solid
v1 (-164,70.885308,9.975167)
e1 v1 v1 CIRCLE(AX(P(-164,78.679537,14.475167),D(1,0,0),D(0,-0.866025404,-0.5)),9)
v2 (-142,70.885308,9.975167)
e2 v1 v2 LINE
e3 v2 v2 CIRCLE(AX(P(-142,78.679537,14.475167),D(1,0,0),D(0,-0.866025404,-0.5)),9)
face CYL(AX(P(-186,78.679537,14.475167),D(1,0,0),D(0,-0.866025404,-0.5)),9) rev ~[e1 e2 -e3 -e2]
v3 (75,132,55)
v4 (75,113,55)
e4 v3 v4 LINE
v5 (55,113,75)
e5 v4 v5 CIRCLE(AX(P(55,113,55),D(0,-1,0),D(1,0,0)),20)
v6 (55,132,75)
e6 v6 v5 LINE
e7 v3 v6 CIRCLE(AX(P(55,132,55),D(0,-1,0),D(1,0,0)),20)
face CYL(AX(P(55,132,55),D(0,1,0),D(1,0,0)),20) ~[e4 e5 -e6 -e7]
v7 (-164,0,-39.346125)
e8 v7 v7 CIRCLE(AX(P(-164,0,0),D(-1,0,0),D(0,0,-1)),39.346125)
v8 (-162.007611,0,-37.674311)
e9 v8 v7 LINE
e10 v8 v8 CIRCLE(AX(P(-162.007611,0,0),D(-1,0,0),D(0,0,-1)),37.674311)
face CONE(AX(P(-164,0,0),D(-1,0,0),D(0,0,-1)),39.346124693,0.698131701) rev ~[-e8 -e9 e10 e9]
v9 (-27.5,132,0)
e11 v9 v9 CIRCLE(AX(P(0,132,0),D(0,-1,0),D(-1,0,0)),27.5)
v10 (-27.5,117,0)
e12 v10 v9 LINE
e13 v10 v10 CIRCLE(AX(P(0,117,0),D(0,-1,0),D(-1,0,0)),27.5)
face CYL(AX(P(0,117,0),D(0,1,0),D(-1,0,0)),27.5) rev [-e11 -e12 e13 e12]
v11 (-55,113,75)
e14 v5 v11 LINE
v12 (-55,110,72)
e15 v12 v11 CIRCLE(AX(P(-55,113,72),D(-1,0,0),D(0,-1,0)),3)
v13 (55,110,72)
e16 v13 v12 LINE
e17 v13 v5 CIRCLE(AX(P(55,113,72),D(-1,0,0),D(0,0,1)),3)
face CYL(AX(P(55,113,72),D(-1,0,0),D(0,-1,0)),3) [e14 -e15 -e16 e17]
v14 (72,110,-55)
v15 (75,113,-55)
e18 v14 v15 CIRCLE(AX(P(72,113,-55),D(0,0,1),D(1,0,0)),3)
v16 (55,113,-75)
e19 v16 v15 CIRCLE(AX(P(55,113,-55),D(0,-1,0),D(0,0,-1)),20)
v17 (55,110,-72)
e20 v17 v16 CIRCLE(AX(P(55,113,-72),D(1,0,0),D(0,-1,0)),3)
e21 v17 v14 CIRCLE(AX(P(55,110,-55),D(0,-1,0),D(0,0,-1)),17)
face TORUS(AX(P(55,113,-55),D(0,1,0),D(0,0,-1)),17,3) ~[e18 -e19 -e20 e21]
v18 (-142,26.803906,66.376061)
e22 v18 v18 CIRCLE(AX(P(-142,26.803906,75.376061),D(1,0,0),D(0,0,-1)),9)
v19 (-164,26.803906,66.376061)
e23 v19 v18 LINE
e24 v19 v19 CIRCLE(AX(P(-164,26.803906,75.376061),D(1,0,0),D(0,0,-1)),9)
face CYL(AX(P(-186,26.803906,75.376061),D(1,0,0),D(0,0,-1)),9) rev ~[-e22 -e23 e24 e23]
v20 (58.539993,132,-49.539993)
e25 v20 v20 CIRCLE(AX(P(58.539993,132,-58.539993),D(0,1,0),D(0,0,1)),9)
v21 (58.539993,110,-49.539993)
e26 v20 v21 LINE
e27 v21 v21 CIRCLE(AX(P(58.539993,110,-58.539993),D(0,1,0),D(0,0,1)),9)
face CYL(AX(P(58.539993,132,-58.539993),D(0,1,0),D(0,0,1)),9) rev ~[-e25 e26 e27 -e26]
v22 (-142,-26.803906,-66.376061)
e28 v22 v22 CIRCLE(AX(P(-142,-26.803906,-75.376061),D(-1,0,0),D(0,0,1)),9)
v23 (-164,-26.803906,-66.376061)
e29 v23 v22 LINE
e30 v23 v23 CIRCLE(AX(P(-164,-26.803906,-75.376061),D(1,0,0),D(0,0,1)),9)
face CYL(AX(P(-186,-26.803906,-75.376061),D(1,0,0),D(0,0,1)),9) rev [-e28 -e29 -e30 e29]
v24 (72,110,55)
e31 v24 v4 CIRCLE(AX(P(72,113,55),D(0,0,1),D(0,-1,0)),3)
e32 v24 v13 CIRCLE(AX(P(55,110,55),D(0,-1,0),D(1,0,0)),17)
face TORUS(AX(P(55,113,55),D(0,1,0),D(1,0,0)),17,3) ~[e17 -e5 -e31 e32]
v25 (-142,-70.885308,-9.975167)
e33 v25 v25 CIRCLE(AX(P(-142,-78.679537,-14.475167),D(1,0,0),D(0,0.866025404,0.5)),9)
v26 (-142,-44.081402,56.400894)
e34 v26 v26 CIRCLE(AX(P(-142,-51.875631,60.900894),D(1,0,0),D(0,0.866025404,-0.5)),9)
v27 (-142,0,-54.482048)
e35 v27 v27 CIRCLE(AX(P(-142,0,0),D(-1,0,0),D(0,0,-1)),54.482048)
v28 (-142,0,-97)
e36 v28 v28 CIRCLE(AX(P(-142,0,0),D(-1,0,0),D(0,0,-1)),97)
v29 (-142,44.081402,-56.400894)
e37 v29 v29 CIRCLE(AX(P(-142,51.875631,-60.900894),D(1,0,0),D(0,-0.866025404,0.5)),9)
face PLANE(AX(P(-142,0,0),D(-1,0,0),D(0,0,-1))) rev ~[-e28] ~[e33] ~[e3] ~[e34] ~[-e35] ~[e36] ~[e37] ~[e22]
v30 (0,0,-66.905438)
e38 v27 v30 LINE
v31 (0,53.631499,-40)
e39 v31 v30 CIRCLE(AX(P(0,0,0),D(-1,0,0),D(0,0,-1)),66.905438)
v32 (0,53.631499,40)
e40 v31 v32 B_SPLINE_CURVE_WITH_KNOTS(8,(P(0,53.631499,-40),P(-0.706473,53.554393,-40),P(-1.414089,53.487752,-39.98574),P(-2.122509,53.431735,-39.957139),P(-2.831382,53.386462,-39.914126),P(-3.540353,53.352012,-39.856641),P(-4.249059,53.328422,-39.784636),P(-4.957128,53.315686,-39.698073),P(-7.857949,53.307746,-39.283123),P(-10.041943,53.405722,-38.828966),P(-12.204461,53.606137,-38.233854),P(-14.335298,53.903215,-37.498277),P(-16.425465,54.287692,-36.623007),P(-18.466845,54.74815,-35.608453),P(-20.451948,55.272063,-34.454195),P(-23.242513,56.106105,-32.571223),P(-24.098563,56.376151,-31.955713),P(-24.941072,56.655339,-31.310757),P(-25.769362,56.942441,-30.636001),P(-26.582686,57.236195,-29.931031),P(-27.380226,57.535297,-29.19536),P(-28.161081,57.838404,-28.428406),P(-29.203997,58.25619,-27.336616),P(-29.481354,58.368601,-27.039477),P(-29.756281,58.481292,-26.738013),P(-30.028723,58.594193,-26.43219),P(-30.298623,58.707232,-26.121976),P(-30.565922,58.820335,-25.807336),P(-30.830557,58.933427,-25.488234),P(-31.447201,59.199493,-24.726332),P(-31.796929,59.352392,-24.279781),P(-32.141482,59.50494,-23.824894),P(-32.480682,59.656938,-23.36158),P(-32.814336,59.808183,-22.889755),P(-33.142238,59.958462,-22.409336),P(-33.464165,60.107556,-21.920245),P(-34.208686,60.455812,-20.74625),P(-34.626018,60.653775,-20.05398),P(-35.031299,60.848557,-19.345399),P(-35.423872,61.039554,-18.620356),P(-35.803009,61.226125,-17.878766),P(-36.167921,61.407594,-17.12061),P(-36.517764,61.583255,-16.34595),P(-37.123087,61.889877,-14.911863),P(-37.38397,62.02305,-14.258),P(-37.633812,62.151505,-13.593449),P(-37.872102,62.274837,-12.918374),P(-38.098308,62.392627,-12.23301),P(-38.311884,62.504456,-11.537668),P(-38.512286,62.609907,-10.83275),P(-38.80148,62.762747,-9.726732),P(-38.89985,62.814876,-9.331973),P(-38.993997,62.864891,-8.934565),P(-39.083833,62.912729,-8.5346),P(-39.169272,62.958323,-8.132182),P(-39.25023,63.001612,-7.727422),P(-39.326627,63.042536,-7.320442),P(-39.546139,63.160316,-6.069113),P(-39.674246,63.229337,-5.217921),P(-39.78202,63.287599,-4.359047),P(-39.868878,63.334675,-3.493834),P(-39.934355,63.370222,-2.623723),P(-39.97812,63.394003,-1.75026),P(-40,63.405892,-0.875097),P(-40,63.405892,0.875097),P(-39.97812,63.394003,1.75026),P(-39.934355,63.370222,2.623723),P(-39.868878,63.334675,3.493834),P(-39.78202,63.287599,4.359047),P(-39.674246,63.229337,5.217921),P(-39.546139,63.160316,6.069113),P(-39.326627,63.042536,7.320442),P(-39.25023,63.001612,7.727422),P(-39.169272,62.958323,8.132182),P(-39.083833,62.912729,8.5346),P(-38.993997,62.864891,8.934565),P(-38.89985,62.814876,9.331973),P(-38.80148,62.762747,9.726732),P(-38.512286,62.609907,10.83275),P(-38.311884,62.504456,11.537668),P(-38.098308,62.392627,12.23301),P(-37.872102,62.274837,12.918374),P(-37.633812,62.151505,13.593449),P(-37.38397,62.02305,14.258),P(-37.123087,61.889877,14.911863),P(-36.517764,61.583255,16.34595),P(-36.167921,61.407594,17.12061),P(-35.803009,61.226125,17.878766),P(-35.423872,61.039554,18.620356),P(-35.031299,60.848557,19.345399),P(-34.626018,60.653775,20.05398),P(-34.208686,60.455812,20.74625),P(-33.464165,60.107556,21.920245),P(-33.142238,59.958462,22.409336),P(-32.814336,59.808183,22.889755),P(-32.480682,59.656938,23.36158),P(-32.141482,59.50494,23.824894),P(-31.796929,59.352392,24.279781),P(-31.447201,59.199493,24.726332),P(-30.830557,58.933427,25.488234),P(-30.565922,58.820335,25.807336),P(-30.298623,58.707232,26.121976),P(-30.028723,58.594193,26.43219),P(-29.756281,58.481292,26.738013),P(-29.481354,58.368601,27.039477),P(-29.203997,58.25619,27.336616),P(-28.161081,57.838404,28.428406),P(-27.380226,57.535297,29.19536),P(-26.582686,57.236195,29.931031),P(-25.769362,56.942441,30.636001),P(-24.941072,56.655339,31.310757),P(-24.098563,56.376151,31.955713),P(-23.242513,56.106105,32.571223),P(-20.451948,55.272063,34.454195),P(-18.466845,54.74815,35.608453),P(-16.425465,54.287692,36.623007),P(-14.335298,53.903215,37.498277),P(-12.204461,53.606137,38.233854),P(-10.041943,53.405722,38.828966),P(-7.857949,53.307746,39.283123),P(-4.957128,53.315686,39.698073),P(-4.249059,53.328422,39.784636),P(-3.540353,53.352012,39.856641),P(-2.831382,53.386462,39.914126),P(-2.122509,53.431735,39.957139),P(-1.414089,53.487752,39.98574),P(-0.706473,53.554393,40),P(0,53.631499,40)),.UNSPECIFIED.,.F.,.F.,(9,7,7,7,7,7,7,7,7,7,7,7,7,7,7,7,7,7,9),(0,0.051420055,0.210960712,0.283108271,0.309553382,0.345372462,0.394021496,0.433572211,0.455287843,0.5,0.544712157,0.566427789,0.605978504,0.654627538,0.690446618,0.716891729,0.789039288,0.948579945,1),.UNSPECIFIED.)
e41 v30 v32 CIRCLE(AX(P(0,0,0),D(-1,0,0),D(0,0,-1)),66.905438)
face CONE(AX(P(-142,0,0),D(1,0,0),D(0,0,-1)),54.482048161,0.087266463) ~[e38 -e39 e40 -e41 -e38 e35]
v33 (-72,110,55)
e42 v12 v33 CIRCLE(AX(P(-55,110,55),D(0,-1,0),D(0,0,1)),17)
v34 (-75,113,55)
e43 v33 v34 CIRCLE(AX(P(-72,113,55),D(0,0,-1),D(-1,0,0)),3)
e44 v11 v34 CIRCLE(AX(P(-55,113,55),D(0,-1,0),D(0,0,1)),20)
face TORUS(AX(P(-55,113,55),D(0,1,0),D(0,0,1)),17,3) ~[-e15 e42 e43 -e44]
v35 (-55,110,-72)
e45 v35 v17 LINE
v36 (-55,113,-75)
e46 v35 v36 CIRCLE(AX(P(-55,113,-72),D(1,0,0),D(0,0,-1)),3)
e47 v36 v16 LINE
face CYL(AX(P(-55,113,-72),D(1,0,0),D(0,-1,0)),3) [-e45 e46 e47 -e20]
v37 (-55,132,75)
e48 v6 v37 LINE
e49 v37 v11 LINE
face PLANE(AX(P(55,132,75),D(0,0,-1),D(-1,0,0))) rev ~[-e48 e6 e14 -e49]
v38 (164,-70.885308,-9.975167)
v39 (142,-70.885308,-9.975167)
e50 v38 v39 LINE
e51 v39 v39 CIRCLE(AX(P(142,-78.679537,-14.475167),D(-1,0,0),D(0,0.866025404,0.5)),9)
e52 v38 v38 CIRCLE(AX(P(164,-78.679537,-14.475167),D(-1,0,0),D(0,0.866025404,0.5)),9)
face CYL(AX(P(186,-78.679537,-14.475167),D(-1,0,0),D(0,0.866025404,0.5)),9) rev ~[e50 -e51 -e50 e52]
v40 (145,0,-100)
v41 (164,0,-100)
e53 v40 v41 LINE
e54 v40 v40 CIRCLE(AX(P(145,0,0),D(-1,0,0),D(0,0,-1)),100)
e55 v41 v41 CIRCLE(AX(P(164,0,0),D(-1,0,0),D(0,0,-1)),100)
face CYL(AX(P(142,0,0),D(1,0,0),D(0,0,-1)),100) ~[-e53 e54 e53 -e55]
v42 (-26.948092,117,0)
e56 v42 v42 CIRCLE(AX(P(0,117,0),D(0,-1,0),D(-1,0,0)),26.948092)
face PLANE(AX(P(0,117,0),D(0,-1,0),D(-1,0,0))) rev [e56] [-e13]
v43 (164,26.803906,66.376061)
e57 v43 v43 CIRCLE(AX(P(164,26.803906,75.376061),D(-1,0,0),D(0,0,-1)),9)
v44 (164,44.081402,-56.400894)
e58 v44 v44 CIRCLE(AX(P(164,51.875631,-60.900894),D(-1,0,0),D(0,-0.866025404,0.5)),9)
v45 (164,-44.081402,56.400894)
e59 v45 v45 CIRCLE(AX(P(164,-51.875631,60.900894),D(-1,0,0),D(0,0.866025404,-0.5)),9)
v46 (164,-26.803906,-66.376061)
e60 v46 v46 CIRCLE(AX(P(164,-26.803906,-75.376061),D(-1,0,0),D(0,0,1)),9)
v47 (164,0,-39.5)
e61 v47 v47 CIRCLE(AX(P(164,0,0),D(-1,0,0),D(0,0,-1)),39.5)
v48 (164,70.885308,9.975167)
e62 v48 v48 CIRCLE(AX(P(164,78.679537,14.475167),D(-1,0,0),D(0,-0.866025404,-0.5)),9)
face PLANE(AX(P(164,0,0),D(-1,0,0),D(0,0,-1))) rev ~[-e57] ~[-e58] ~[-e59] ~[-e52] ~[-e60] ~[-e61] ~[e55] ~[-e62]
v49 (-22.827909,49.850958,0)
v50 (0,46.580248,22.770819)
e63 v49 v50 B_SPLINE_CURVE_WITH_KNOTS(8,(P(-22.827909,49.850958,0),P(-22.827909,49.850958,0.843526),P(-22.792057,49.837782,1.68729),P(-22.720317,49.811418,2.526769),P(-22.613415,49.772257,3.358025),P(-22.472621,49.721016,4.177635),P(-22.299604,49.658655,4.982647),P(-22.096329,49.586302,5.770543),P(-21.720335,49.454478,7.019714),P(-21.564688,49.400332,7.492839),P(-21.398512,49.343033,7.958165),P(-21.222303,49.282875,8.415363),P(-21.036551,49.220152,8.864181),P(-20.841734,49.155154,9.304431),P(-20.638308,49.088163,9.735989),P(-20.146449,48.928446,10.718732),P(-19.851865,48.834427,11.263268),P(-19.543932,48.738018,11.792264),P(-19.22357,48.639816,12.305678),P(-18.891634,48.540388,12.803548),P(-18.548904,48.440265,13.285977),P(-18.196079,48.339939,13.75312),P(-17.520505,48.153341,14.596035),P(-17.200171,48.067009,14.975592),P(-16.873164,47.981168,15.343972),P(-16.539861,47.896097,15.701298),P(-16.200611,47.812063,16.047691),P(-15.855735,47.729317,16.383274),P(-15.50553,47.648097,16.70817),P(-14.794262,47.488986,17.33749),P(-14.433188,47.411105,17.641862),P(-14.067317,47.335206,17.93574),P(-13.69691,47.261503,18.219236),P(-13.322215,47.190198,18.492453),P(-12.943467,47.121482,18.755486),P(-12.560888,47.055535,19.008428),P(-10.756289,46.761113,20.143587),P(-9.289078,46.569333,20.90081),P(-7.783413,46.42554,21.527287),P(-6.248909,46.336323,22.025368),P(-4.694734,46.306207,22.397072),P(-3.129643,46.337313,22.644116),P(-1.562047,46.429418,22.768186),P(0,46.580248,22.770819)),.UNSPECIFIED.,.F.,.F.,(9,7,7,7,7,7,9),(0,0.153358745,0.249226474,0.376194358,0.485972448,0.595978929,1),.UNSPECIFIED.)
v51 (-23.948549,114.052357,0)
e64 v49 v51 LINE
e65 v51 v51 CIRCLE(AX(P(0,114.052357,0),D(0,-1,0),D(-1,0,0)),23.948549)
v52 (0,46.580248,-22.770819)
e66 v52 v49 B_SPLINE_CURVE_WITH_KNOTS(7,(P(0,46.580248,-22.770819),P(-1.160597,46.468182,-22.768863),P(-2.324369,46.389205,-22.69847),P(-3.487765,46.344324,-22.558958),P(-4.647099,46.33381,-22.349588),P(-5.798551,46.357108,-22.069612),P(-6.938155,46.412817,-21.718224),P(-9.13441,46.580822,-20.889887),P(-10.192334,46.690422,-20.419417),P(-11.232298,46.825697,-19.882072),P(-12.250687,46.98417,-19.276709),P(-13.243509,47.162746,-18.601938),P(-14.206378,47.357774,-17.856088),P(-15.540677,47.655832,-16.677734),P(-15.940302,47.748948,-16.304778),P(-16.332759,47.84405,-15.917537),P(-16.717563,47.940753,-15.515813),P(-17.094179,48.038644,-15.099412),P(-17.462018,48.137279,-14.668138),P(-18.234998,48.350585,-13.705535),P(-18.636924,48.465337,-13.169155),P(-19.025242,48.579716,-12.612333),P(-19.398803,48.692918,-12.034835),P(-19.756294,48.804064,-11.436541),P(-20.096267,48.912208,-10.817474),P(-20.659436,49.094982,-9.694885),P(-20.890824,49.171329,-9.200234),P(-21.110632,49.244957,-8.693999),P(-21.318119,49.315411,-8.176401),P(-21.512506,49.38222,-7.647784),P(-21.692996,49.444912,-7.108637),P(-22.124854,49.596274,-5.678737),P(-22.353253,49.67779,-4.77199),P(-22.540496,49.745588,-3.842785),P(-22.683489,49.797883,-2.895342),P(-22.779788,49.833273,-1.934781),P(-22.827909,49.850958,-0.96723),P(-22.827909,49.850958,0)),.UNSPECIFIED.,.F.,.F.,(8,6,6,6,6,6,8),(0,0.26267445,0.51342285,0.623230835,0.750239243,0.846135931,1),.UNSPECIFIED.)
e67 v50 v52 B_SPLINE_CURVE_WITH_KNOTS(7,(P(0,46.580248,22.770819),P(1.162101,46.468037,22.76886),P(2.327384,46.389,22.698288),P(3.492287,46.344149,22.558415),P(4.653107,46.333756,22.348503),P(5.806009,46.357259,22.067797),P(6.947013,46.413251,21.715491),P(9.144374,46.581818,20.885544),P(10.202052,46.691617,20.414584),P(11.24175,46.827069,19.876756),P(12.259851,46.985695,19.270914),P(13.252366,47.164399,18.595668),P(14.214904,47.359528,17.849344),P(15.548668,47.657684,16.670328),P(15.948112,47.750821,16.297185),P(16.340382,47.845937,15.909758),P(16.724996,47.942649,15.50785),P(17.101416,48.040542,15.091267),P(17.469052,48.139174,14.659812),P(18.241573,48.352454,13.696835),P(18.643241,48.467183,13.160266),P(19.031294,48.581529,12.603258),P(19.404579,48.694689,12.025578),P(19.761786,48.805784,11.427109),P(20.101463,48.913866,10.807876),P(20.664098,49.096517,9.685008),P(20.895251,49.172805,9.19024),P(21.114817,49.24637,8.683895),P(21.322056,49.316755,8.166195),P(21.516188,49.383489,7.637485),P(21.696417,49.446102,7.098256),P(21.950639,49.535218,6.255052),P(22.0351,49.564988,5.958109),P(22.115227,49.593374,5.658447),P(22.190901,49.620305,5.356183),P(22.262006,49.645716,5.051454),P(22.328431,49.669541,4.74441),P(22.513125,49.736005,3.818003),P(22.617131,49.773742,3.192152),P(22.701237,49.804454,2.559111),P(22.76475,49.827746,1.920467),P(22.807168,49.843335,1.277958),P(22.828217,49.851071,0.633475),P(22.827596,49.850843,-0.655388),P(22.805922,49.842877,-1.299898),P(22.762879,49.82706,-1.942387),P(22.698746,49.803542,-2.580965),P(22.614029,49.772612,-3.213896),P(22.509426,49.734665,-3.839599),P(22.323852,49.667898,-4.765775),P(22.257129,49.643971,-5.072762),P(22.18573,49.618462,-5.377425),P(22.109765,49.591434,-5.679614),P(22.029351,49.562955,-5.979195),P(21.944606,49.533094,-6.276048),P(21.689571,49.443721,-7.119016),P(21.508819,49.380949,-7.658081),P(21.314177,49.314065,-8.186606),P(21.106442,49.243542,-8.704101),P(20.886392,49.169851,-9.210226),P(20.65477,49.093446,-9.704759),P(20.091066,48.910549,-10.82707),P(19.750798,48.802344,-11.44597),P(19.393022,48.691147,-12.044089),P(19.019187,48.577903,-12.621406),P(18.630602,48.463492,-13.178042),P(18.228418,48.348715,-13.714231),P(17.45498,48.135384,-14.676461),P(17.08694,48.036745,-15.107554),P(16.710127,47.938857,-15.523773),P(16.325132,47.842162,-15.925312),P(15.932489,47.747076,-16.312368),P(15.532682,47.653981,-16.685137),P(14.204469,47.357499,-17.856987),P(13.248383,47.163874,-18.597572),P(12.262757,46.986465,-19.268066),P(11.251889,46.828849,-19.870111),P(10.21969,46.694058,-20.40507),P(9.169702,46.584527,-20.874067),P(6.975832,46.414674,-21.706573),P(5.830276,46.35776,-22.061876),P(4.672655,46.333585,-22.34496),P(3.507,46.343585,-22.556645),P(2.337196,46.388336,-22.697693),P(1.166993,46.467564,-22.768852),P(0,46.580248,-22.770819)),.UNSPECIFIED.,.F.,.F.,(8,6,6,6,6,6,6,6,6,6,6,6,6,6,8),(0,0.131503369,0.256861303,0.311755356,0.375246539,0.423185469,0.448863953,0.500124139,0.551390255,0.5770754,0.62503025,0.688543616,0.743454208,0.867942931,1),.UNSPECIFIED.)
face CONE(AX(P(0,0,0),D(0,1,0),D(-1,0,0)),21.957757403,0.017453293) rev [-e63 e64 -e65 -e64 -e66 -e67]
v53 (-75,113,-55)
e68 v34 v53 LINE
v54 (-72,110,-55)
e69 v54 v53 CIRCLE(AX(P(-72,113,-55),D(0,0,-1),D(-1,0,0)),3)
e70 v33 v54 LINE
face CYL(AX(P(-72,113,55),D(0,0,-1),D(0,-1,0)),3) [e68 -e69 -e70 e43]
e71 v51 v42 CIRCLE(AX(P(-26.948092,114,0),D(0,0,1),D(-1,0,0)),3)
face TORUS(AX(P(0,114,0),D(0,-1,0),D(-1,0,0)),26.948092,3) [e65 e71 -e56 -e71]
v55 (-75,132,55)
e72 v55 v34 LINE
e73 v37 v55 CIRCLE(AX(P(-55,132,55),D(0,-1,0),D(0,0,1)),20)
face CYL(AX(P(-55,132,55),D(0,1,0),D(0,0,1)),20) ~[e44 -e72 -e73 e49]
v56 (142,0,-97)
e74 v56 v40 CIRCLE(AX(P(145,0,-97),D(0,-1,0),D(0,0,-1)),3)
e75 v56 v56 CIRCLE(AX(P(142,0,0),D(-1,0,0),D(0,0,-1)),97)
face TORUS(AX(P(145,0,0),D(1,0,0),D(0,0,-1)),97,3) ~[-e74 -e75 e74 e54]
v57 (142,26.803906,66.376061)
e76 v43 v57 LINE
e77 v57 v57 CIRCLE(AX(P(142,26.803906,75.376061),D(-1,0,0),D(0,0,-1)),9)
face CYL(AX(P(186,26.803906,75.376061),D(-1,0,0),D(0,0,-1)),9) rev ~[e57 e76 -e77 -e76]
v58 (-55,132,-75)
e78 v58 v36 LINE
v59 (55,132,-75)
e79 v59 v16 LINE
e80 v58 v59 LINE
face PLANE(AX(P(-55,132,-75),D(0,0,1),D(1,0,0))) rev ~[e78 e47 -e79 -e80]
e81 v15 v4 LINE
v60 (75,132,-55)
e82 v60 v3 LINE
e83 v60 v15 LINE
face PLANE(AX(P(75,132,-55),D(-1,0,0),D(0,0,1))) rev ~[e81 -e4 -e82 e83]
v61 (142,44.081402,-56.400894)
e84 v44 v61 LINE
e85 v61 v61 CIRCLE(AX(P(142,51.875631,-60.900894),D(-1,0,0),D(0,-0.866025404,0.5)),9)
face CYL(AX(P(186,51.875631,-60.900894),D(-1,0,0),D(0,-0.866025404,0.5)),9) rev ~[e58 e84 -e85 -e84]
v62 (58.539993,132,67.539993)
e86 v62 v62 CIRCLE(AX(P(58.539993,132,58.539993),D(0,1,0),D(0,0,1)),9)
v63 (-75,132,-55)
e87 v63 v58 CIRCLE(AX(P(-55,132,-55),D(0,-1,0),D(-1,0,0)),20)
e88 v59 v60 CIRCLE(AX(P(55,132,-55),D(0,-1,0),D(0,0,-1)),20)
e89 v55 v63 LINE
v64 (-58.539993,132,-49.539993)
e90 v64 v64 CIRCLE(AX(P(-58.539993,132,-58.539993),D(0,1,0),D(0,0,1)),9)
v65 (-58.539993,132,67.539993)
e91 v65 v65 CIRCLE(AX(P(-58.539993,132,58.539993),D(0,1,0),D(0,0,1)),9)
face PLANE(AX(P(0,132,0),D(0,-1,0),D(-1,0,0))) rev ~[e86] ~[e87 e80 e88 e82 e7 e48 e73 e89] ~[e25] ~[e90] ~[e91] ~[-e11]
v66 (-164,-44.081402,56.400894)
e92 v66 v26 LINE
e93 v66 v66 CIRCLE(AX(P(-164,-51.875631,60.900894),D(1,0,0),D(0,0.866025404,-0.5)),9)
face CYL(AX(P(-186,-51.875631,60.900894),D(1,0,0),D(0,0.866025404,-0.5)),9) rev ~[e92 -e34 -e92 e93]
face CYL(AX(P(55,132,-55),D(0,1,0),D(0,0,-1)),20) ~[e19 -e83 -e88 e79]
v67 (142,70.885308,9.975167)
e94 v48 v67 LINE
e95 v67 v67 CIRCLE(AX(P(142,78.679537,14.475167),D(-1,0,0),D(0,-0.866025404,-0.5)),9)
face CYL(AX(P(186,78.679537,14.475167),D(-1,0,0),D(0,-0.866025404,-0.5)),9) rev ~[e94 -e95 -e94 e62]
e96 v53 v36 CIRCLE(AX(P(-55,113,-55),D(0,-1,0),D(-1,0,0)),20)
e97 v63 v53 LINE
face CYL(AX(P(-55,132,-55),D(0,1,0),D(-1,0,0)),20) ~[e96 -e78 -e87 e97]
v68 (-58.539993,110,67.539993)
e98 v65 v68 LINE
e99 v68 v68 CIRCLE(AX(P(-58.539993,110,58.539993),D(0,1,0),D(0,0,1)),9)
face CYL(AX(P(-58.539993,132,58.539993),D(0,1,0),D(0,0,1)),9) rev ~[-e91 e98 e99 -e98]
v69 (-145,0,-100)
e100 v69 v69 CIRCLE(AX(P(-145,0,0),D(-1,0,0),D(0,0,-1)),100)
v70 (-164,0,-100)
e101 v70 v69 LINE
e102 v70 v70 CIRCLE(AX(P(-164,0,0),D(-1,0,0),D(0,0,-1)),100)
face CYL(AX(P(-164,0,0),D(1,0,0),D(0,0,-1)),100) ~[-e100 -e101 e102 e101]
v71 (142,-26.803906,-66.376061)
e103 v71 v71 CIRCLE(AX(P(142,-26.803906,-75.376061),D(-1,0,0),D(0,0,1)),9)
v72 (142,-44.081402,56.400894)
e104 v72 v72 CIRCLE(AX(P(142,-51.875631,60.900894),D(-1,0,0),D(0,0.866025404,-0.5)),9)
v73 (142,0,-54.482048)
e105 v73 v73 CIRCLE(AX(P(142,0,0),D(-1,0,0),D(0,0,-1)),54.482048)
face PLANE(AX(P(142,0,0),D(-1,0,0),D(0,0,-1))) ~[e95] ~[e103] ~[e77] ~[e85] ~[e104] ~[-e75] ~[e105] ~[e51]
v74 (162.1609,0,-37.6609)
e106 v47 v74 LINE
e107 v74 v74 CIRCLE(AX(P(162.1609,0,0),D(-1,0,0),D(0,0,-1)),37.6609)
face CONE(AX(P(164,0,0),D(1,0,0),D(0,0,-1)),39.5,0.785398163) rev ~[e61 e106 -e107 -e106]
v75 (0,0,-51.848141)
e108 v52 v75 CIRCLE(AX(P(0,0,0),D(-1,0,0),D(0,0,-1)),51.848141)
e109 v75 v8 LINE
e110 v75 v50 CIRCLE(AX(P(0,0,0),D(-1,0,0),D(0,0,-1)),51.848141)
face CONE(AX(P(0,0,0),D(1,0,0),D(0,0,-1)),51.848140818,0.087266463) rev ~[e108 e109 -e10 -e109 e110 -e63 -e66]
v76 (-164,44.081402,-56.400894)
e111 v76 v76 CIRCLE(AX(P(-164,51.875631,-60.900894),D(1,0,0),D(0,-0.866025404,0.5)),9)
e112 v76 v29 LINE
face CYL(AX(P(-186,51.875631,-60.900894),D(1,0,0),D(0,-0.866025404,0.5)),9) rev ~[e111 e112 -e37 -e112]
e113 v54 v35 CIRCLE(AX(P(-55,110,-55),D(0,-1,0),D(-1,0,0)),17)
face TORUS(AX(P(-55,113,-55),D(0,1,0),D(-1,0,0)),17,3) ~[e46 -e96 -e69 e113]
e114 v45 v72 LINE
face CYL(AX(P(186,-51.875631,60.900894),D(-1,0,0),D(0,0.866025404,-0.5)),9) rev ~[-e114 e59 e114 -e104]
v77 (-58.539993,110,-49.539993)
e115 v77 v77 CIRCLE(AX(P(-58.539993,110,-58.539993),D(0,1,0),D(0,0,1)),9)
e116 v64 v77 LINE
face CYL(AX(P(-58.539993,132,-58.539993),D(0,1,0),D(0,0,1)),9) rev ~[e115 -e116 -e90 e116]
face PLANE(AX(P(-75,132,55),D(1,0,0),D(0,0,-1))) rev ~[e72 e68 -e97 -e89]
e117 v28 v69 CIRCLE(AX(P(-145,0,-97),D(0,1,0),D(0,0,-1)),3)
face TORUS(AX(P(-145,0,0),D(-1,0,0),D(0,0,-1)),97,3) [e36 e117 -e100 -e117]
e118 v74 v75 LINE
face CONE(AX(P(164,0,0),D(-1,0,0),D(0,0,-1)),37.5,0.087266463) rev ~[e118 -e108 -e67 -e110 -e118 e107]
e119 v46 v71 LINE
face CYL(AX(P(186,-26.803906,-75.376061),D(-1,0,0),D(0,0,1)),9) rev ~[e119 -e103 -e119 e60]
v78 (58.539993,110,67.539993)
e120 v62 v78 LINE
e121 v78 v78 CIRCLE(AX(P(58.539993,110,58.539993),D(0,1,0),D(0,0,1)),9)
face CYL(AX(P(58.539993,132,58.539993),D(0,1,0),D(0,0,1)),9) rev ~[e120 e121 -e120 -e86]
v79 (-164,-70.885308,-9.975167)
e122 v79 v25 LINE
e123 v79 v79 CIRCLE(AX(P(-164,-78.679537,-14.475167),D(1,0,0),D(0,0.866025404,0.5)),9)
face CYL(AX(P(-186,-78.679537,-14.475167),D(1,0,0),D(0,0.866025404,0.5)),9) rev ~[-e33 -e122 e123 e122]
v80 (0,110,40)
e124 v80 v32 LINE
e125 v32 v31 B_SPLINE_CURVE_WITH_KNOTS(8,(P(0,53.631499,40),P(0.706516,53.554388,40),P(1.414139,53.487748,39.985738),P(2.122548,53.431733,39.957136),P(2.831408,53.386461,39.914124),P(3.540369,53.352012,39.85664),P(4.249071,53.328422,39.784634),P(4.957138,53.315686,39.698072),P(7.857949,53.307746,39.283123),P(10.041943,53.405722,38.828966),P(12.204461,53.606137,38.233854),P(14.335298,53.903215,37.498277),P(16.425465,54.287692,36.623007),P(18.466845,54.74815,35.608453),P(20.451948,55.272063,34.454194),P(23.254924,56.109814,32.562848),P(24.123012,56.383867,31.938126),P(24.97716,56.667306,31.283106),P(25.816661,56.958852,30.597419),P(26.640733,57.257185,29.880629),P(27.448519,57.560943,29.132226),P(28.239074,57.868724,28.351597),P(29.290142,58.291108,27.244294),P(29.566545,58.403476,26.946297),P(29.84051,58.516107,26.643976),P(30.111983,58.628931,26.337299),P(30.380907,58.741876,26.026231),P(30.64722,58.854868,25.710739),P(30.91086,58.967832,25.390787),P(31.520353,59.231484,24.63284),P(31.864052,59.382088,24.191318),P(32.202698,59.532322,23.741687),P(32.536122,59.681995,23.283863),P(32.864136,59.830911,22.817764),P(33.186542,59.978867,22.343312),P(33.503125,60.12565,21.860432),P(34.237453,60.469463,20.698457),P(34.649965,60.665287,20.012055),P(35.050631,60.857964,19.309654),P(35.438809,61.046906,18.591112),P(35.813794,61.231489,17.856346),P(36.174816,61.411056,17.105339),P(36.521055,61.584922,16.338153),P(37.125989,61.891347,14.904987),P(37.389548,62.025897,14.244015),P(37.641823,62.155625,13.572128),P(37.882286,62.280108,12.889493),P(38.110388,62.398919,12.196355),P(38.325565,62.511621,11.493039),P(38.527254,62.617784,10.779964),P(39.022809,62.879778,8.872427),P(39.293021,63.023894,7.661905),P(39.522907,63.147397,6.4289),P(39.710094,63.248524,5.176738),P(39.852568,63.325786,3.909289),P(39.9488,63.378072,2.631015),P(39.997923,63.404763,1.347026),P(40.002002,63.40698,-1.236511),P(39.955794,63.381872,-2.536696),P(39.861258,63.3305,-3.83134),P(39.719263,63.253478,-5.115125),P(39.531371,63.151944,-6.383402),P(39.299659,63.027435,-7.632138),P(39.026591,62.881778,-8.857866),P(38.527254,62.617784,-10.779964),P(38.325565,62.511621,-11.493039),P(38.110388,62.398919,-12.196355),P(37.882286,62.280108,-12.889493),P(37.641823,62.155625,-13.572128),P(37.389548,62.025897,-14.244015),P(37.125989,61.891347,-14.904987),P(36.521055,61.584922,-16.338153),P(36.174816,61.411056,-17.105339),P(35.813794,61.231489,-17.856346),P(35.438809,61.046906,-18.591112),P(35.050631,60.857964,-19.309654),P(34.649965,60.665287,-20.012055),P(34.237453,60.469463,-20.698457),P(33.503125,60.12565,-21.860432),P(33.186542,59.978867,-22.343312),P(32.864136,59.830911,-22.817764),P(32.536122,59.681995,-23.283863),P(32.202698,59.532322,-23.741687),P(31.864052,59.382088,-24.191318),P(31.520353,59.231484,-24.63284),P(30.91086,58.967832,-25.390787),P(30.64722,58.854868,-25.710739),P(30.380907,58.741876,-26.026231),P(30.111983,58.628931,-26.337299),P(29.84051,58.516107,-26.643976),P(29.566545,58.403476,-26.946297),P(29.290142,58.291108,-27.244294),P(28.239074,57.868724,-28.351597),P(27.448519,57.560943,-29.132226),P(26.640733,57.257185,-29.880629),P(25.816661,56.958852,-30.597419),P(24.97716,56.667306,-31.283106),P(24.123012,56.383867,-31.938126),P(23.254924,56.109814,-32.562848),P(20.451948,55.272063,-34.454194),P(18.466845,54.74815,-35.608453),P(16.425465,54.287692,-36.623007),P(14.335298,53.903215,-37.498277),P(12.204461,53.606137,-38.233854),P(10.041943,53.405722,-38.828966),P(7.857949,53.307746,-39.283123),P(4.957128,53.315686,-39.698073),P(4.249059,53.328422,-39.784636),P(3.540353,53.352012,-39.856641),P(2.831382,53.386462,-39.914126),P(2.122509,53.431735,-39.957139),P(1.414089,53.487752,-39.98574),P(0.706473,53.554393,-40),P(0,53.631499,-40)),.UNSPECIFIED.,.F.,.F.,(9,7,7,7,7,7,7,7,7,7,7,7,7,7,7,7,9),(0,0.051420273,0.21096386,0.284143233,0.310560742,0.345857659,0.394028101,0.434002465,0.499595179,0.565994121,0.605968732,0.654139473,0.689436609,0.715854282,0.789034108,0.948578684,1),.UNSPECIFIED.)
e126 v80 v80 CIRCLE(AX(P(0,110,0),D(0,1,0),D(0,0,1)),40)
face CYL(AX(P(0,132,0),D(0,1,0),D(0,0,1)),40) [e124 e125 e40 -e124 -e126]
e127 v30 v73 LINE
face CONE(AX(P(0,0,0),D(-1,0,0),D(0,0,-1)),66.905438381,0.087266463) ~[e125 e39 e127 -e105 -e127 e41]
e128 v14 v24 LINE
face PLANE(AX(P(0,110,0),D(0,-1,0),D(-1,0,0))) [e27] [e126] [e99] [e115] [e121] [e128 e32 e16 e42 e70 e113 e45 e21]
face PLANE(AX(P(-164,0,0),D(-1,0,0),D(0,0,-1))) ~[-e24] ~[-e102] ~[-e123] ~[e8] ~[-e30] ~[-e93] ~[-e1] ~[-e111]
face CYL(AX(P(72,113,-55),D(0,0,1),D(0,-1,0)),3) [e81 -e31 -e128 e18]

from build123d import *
from OCP.BRepFilletAPI import BRepFilletAPI_MakeChamfer

# Parameters (mm, degrees)
SKETCH3_R                 = 40
SKETCH3_R_2               = 9
BOSS_EXTRUDE1_DEPTH       = 22
BOSS_EXTRUDE3_REACH       = 303.198
SKETCH3_3_R               = 40
FILLET1_R                 = 3
CHAMFER1_SIZE             = 2
CHAMFER1_SIZE2            = 1.846124693
FILLET2_R                 = 3
F_5_0MM_DOWEL_HOLE1_D     = 18
F_5_0MM_DOWEL_HOLE1_DEPTH = 22
CIRPATTERN1_COUNT         = 6
MIRROR1_COPY_1_D          = 18
MIRROR1_COPY_1_DEPTH      = 22
MIRROR1_COPY_2_D          = 18
MIRROR1_COPY_2_DEPTH      = 22
MIRROR1_COPY_3_D          = 18
MIRROR1_COPY_3_DEPTH      = 22
MIRROR1_COPY_4_D          = 18
MIRROR1_COPY_4_DEPTH      = 22
MIRROR1_COPY_5_D          = 18
MIRROR1_COPY_5_DEPTH      = 22


with BuildPart() as part:
    # Sketch1 → Revolve1 (revolve)
    with BuildSketch(Plane.XY, mode=Mode.PRIVATE) as revolve1_sk:
        Polygon((0, -51.848140818), (-164, -37.5), (-164, -100), (-142, -100), (-142, -54.482048161), (0, -66.905438381), (142, -54.482048161), (142, -100), (164, -100), (164, -37.5), align=None)
    revolve(revolve1_sk.sketch.rotate(Axis((0, 0, 0), (-1, 0, 0)), 270), axis=Axis((0, 0, 0), (-1, 0, 0)))

    # Sketch3<3> → Boss-Extrude3 (add, up to next)
    with BuildSketch(Plane(origin=(0, 132, 0), x_dir=(1, 0, 0), z_dir=(0, 1, 0)), mode=Mode.PRIVATE) as boss_extrude3_sk1:
        with Locations(Location((0, 0, 0), (0, 0, 270))):
            Circle(SKETCH3_3_R)
    boss_extrude3_tool1 = extrude(boss_extrude3_sk1.sketch, amount=-BOSS_EXTRUDE3_REACH, mode=Mode.PRIVATE) - part.part


with BuildPart() as body_2:
    # Sketch3 → Boss-Extrude1 (new body)
    with BuildSketch(Plane(origin=(0, 132, 0), x_dir=(1, 0, 0), z_dir=(0, 1, 0))):
        with BuildLine():
            Line((-55, 75), (55, 75))
            ThreePointArc((55, 75), (69.142135624, 69.142135624), (75, 55))
            Line((75, 55), (75, -55))
            ThreePointArc((75, -55), (69.142135624, -69.142135624), (55, -75))
            Line((55, -75), (-55, -75))
            ThreePointArc((-55, -75), (-69.142135624, -69.142135624), (-75, -55))
            Line((-75, -55), (-75, 55))
            ThreePointArc((-75, 55), (-69.142135624, 69.142135624), (-55, 75))
        make_face()
        with Locations(Location((0, 0, 0), (0, 0, 270))):
            Circle(SKETCH3_R, mode=Mode.SUBTRACT)
        with Locations(Location((-58.539992601, -58.539992601, 0), (0, 0, 270))):
            Circle(SKETCH3_R_2, mode=Mode.SUBTRACT)
        with Locations(Location((58.539992601, -58.539992601, 0), (0, 0, 270))):
            Circle(SKETCH3_R_2, mode=Mode.SUBTRACT)
        with Locations(Location((58.539992601, 58.539992601, 0), (0, 0, 270))):
            Circle(SKETCH3_R_2, mode=Mode.SUBTRACT)
        with Locations(Location((-58.539992601, 58.539992601, 0), (0, 0, 270))):
            Circle(SKETCH3_R_2, mode=Mode.SUBTRACT)
    extrude(amount=-BOSS_EXTRUDE1_DEPTH)


with BuildPart() as part_1:
    add(part.part)

    add(body_2.part)  # Boss-Extrude3 merges body 2
    add(boss_extrude3_tool1.solids().sort_by_distance((0, 132, 0))[0])

    # Sketch4 → Cut-Revolve1 (revolve, cut)
    with BuildSketch(Plane.XY, mode=Mode.PRIVATE) as cut_revolve1_sk:
        Polygon((0, 0), (21.957757403, 0), (24, 117), (27.5, 117), (27.5, 132), (0, 132), align=None)
    revolve(cut_revolve1_sk.sketch.rotate(Axis((0, 0, 0), (0, -1, 0)), 180), axis=Axis((0, 0, 0), (0, -1, 0)), mode=Mode.SUBTRACT)

    # Fillet1
    fillet1_edges = [part_1.edges().sort_by_distance(p)[0] for p in [
        (142, 0, 100),
        (-69.142135624, 110, -69.142135624),
        (0, 110, -75),
        (69.142135624, 110, -69.142135624),
        (75, 110, 0),
        (69.142135624, 110, 69.142135624),
        (0, 110, 75),
        (-69.142135624, 110, 69.142135624),
        (-75, 110, 0),
        (-142, 0, 100),
    ]]
    fillet(fillet1_edges, radius=FILLET1_R)

    # Chamfer1: one chamfer whose edges measure the first distance from different faces: ONE call of the kernel's chamfer builder (chamfer() names one face for all edges)
    chamfer1_edges_1 = [part_1.edges().sort_by_distance(p)[0] for p in [
        (164, 0, 37.5),
    ]]
    chamfer1_side_1 = [part_1.faces().sort_by_distance(p)[0] for p in [
        (164, 0, 97.171572875),
    ]]
    chamfer1_edges_2 = [part_1.edges().sort_by_distance(p)[0] for p in [
        (-164, 0, 37.5),
    ]]
    chamfer1_side_2 = [part_1.faces().sort_by_distance(p)[0] for p in [
        (-82, 0, 44.674070409),
    ]]
    chamfer1 = BRepFilletAPI_MakeChamfer(part_1.part.solid().wrapped)
    for e in chamfer1_edges_1:
        chamfer1.Add(CHAMFER1_SIZE, CHAMFER1_SIZE2, e.wrapped, chamfer1_side_1[0].wrapped)  # the first distance lies on this face
    for e in chamfer1_edges_2:
        chamfer1.Add(CHAMFER1_SIZE, CHAMFER1_SIZE2, e.wrapped, chamfer1_side_2[0].wrapped)  # the first distance lies on this face
    add(Compound.cast(chamfer1.Shape()), mode=Mode.REPLACE)

    # Fillet2
    fillet2_edges = [part_1.edges().sort_by_distance(p)[0] for p in [
        (24, 117, 0),
    ]]
    fillet(fillet2_edges, radius=FILLET2_R)

    # Ø5.0mm Dowel Hole1
    with Locations(Plane(origin=(164, 0, 0), x_dir=(0, 0, -1), z_dir=(1, 0, 0))):
        with Locations((75.376061376, -26.803905898)):
            f_5_0mm_dowel_hole1 = Hole(F_5_0MM_DOWEL_HOLE1_D / 2, depth=F_5_0MM_DOWEL_HOLE1_DEPTH)

    # CirPattern1: Ø5.0mm Dowel Hole1 ×6 about axis
    cirpattern1_axis = Axis((0, 0, 0), (1, 0, 0))
    for i in range(1, CIRPATTERN1_COUNT):
        add(f_5_0mm_dowel_hole1.rotate(cirpattern1_axis, i * 360 / CIRPATTERN1_COUNT), mode=Mode.SUBTRACT)

    # Mirror1: Ø5.0mm Dowel Hole1 across plane
    add(f_5_0mm_dowel_hole1.mirror(Plane(origin=(0, 0, 0), x_dir=(0, 0, 1), z_dir=(1, 0, 0))), mode=Mode.SUBTRACT)

    # Mirror1 copy 1
    with Locations(Plane(origin=(-164, 0, 0), x_dir=(0, 0.8660254037844386, -0.5000000000000001), z_dir=(-1, 0, 0))):
        with Locations((75.376061376, 26.803905898)):
            Hole(MIRROR1_COPY_1_D / 2, depth=MIRROR1_COPY_1_DEPTH)

    # Mirror1 copy 2
    with Locations(Plane(origin=(-164, 0, 0), x_dir=(0, 0.8660254037844387, 0.4999999999999998), z_dir=(-1, 0, 0))):
        with Locations((75.376061376, 26.803905898)):
            Hole(MIRROR1_COPY_2_D / 2, depth=MIRROR1_COPY_2_DEPTH)

    # Mirror1 copy 3
    with Locations(Plane.ZY.offset(164)):
        with Locations((75.376061376, 26.803905898)):
            Hole(MIRROR1_COPY_3_D / 2, depth=MIRROR1_COPY_3_DEPTH)

    # Mirror1 copy 4
    with Locations(Plane(origin=(-164, 0, 0), x_dir=(0, -0.8660254037844384, 0.5000000000000004), z_dir=(-1, 0, 0))):
        with Locations((75.376061376, 26.803905898)):
            Hole(MIRROR1_COPY_4_D / 2, depth=MIRROR1_COPY_4_DEPTH)

    # Mirror1 copy 5
    with Locations(Plane(origin=(-164, 0, 0), x_dir=(0, -0.8660254037844386, -0.5000000000000001), z_dir=(-1, 0, 0))):
        with Locations((75.376061376, 26.803905898)):
            Hole(MIRROR1_COPY_5_D / 2, depth=MIRROR1_COPY_5_DEPTH)


solid = part_1.part
